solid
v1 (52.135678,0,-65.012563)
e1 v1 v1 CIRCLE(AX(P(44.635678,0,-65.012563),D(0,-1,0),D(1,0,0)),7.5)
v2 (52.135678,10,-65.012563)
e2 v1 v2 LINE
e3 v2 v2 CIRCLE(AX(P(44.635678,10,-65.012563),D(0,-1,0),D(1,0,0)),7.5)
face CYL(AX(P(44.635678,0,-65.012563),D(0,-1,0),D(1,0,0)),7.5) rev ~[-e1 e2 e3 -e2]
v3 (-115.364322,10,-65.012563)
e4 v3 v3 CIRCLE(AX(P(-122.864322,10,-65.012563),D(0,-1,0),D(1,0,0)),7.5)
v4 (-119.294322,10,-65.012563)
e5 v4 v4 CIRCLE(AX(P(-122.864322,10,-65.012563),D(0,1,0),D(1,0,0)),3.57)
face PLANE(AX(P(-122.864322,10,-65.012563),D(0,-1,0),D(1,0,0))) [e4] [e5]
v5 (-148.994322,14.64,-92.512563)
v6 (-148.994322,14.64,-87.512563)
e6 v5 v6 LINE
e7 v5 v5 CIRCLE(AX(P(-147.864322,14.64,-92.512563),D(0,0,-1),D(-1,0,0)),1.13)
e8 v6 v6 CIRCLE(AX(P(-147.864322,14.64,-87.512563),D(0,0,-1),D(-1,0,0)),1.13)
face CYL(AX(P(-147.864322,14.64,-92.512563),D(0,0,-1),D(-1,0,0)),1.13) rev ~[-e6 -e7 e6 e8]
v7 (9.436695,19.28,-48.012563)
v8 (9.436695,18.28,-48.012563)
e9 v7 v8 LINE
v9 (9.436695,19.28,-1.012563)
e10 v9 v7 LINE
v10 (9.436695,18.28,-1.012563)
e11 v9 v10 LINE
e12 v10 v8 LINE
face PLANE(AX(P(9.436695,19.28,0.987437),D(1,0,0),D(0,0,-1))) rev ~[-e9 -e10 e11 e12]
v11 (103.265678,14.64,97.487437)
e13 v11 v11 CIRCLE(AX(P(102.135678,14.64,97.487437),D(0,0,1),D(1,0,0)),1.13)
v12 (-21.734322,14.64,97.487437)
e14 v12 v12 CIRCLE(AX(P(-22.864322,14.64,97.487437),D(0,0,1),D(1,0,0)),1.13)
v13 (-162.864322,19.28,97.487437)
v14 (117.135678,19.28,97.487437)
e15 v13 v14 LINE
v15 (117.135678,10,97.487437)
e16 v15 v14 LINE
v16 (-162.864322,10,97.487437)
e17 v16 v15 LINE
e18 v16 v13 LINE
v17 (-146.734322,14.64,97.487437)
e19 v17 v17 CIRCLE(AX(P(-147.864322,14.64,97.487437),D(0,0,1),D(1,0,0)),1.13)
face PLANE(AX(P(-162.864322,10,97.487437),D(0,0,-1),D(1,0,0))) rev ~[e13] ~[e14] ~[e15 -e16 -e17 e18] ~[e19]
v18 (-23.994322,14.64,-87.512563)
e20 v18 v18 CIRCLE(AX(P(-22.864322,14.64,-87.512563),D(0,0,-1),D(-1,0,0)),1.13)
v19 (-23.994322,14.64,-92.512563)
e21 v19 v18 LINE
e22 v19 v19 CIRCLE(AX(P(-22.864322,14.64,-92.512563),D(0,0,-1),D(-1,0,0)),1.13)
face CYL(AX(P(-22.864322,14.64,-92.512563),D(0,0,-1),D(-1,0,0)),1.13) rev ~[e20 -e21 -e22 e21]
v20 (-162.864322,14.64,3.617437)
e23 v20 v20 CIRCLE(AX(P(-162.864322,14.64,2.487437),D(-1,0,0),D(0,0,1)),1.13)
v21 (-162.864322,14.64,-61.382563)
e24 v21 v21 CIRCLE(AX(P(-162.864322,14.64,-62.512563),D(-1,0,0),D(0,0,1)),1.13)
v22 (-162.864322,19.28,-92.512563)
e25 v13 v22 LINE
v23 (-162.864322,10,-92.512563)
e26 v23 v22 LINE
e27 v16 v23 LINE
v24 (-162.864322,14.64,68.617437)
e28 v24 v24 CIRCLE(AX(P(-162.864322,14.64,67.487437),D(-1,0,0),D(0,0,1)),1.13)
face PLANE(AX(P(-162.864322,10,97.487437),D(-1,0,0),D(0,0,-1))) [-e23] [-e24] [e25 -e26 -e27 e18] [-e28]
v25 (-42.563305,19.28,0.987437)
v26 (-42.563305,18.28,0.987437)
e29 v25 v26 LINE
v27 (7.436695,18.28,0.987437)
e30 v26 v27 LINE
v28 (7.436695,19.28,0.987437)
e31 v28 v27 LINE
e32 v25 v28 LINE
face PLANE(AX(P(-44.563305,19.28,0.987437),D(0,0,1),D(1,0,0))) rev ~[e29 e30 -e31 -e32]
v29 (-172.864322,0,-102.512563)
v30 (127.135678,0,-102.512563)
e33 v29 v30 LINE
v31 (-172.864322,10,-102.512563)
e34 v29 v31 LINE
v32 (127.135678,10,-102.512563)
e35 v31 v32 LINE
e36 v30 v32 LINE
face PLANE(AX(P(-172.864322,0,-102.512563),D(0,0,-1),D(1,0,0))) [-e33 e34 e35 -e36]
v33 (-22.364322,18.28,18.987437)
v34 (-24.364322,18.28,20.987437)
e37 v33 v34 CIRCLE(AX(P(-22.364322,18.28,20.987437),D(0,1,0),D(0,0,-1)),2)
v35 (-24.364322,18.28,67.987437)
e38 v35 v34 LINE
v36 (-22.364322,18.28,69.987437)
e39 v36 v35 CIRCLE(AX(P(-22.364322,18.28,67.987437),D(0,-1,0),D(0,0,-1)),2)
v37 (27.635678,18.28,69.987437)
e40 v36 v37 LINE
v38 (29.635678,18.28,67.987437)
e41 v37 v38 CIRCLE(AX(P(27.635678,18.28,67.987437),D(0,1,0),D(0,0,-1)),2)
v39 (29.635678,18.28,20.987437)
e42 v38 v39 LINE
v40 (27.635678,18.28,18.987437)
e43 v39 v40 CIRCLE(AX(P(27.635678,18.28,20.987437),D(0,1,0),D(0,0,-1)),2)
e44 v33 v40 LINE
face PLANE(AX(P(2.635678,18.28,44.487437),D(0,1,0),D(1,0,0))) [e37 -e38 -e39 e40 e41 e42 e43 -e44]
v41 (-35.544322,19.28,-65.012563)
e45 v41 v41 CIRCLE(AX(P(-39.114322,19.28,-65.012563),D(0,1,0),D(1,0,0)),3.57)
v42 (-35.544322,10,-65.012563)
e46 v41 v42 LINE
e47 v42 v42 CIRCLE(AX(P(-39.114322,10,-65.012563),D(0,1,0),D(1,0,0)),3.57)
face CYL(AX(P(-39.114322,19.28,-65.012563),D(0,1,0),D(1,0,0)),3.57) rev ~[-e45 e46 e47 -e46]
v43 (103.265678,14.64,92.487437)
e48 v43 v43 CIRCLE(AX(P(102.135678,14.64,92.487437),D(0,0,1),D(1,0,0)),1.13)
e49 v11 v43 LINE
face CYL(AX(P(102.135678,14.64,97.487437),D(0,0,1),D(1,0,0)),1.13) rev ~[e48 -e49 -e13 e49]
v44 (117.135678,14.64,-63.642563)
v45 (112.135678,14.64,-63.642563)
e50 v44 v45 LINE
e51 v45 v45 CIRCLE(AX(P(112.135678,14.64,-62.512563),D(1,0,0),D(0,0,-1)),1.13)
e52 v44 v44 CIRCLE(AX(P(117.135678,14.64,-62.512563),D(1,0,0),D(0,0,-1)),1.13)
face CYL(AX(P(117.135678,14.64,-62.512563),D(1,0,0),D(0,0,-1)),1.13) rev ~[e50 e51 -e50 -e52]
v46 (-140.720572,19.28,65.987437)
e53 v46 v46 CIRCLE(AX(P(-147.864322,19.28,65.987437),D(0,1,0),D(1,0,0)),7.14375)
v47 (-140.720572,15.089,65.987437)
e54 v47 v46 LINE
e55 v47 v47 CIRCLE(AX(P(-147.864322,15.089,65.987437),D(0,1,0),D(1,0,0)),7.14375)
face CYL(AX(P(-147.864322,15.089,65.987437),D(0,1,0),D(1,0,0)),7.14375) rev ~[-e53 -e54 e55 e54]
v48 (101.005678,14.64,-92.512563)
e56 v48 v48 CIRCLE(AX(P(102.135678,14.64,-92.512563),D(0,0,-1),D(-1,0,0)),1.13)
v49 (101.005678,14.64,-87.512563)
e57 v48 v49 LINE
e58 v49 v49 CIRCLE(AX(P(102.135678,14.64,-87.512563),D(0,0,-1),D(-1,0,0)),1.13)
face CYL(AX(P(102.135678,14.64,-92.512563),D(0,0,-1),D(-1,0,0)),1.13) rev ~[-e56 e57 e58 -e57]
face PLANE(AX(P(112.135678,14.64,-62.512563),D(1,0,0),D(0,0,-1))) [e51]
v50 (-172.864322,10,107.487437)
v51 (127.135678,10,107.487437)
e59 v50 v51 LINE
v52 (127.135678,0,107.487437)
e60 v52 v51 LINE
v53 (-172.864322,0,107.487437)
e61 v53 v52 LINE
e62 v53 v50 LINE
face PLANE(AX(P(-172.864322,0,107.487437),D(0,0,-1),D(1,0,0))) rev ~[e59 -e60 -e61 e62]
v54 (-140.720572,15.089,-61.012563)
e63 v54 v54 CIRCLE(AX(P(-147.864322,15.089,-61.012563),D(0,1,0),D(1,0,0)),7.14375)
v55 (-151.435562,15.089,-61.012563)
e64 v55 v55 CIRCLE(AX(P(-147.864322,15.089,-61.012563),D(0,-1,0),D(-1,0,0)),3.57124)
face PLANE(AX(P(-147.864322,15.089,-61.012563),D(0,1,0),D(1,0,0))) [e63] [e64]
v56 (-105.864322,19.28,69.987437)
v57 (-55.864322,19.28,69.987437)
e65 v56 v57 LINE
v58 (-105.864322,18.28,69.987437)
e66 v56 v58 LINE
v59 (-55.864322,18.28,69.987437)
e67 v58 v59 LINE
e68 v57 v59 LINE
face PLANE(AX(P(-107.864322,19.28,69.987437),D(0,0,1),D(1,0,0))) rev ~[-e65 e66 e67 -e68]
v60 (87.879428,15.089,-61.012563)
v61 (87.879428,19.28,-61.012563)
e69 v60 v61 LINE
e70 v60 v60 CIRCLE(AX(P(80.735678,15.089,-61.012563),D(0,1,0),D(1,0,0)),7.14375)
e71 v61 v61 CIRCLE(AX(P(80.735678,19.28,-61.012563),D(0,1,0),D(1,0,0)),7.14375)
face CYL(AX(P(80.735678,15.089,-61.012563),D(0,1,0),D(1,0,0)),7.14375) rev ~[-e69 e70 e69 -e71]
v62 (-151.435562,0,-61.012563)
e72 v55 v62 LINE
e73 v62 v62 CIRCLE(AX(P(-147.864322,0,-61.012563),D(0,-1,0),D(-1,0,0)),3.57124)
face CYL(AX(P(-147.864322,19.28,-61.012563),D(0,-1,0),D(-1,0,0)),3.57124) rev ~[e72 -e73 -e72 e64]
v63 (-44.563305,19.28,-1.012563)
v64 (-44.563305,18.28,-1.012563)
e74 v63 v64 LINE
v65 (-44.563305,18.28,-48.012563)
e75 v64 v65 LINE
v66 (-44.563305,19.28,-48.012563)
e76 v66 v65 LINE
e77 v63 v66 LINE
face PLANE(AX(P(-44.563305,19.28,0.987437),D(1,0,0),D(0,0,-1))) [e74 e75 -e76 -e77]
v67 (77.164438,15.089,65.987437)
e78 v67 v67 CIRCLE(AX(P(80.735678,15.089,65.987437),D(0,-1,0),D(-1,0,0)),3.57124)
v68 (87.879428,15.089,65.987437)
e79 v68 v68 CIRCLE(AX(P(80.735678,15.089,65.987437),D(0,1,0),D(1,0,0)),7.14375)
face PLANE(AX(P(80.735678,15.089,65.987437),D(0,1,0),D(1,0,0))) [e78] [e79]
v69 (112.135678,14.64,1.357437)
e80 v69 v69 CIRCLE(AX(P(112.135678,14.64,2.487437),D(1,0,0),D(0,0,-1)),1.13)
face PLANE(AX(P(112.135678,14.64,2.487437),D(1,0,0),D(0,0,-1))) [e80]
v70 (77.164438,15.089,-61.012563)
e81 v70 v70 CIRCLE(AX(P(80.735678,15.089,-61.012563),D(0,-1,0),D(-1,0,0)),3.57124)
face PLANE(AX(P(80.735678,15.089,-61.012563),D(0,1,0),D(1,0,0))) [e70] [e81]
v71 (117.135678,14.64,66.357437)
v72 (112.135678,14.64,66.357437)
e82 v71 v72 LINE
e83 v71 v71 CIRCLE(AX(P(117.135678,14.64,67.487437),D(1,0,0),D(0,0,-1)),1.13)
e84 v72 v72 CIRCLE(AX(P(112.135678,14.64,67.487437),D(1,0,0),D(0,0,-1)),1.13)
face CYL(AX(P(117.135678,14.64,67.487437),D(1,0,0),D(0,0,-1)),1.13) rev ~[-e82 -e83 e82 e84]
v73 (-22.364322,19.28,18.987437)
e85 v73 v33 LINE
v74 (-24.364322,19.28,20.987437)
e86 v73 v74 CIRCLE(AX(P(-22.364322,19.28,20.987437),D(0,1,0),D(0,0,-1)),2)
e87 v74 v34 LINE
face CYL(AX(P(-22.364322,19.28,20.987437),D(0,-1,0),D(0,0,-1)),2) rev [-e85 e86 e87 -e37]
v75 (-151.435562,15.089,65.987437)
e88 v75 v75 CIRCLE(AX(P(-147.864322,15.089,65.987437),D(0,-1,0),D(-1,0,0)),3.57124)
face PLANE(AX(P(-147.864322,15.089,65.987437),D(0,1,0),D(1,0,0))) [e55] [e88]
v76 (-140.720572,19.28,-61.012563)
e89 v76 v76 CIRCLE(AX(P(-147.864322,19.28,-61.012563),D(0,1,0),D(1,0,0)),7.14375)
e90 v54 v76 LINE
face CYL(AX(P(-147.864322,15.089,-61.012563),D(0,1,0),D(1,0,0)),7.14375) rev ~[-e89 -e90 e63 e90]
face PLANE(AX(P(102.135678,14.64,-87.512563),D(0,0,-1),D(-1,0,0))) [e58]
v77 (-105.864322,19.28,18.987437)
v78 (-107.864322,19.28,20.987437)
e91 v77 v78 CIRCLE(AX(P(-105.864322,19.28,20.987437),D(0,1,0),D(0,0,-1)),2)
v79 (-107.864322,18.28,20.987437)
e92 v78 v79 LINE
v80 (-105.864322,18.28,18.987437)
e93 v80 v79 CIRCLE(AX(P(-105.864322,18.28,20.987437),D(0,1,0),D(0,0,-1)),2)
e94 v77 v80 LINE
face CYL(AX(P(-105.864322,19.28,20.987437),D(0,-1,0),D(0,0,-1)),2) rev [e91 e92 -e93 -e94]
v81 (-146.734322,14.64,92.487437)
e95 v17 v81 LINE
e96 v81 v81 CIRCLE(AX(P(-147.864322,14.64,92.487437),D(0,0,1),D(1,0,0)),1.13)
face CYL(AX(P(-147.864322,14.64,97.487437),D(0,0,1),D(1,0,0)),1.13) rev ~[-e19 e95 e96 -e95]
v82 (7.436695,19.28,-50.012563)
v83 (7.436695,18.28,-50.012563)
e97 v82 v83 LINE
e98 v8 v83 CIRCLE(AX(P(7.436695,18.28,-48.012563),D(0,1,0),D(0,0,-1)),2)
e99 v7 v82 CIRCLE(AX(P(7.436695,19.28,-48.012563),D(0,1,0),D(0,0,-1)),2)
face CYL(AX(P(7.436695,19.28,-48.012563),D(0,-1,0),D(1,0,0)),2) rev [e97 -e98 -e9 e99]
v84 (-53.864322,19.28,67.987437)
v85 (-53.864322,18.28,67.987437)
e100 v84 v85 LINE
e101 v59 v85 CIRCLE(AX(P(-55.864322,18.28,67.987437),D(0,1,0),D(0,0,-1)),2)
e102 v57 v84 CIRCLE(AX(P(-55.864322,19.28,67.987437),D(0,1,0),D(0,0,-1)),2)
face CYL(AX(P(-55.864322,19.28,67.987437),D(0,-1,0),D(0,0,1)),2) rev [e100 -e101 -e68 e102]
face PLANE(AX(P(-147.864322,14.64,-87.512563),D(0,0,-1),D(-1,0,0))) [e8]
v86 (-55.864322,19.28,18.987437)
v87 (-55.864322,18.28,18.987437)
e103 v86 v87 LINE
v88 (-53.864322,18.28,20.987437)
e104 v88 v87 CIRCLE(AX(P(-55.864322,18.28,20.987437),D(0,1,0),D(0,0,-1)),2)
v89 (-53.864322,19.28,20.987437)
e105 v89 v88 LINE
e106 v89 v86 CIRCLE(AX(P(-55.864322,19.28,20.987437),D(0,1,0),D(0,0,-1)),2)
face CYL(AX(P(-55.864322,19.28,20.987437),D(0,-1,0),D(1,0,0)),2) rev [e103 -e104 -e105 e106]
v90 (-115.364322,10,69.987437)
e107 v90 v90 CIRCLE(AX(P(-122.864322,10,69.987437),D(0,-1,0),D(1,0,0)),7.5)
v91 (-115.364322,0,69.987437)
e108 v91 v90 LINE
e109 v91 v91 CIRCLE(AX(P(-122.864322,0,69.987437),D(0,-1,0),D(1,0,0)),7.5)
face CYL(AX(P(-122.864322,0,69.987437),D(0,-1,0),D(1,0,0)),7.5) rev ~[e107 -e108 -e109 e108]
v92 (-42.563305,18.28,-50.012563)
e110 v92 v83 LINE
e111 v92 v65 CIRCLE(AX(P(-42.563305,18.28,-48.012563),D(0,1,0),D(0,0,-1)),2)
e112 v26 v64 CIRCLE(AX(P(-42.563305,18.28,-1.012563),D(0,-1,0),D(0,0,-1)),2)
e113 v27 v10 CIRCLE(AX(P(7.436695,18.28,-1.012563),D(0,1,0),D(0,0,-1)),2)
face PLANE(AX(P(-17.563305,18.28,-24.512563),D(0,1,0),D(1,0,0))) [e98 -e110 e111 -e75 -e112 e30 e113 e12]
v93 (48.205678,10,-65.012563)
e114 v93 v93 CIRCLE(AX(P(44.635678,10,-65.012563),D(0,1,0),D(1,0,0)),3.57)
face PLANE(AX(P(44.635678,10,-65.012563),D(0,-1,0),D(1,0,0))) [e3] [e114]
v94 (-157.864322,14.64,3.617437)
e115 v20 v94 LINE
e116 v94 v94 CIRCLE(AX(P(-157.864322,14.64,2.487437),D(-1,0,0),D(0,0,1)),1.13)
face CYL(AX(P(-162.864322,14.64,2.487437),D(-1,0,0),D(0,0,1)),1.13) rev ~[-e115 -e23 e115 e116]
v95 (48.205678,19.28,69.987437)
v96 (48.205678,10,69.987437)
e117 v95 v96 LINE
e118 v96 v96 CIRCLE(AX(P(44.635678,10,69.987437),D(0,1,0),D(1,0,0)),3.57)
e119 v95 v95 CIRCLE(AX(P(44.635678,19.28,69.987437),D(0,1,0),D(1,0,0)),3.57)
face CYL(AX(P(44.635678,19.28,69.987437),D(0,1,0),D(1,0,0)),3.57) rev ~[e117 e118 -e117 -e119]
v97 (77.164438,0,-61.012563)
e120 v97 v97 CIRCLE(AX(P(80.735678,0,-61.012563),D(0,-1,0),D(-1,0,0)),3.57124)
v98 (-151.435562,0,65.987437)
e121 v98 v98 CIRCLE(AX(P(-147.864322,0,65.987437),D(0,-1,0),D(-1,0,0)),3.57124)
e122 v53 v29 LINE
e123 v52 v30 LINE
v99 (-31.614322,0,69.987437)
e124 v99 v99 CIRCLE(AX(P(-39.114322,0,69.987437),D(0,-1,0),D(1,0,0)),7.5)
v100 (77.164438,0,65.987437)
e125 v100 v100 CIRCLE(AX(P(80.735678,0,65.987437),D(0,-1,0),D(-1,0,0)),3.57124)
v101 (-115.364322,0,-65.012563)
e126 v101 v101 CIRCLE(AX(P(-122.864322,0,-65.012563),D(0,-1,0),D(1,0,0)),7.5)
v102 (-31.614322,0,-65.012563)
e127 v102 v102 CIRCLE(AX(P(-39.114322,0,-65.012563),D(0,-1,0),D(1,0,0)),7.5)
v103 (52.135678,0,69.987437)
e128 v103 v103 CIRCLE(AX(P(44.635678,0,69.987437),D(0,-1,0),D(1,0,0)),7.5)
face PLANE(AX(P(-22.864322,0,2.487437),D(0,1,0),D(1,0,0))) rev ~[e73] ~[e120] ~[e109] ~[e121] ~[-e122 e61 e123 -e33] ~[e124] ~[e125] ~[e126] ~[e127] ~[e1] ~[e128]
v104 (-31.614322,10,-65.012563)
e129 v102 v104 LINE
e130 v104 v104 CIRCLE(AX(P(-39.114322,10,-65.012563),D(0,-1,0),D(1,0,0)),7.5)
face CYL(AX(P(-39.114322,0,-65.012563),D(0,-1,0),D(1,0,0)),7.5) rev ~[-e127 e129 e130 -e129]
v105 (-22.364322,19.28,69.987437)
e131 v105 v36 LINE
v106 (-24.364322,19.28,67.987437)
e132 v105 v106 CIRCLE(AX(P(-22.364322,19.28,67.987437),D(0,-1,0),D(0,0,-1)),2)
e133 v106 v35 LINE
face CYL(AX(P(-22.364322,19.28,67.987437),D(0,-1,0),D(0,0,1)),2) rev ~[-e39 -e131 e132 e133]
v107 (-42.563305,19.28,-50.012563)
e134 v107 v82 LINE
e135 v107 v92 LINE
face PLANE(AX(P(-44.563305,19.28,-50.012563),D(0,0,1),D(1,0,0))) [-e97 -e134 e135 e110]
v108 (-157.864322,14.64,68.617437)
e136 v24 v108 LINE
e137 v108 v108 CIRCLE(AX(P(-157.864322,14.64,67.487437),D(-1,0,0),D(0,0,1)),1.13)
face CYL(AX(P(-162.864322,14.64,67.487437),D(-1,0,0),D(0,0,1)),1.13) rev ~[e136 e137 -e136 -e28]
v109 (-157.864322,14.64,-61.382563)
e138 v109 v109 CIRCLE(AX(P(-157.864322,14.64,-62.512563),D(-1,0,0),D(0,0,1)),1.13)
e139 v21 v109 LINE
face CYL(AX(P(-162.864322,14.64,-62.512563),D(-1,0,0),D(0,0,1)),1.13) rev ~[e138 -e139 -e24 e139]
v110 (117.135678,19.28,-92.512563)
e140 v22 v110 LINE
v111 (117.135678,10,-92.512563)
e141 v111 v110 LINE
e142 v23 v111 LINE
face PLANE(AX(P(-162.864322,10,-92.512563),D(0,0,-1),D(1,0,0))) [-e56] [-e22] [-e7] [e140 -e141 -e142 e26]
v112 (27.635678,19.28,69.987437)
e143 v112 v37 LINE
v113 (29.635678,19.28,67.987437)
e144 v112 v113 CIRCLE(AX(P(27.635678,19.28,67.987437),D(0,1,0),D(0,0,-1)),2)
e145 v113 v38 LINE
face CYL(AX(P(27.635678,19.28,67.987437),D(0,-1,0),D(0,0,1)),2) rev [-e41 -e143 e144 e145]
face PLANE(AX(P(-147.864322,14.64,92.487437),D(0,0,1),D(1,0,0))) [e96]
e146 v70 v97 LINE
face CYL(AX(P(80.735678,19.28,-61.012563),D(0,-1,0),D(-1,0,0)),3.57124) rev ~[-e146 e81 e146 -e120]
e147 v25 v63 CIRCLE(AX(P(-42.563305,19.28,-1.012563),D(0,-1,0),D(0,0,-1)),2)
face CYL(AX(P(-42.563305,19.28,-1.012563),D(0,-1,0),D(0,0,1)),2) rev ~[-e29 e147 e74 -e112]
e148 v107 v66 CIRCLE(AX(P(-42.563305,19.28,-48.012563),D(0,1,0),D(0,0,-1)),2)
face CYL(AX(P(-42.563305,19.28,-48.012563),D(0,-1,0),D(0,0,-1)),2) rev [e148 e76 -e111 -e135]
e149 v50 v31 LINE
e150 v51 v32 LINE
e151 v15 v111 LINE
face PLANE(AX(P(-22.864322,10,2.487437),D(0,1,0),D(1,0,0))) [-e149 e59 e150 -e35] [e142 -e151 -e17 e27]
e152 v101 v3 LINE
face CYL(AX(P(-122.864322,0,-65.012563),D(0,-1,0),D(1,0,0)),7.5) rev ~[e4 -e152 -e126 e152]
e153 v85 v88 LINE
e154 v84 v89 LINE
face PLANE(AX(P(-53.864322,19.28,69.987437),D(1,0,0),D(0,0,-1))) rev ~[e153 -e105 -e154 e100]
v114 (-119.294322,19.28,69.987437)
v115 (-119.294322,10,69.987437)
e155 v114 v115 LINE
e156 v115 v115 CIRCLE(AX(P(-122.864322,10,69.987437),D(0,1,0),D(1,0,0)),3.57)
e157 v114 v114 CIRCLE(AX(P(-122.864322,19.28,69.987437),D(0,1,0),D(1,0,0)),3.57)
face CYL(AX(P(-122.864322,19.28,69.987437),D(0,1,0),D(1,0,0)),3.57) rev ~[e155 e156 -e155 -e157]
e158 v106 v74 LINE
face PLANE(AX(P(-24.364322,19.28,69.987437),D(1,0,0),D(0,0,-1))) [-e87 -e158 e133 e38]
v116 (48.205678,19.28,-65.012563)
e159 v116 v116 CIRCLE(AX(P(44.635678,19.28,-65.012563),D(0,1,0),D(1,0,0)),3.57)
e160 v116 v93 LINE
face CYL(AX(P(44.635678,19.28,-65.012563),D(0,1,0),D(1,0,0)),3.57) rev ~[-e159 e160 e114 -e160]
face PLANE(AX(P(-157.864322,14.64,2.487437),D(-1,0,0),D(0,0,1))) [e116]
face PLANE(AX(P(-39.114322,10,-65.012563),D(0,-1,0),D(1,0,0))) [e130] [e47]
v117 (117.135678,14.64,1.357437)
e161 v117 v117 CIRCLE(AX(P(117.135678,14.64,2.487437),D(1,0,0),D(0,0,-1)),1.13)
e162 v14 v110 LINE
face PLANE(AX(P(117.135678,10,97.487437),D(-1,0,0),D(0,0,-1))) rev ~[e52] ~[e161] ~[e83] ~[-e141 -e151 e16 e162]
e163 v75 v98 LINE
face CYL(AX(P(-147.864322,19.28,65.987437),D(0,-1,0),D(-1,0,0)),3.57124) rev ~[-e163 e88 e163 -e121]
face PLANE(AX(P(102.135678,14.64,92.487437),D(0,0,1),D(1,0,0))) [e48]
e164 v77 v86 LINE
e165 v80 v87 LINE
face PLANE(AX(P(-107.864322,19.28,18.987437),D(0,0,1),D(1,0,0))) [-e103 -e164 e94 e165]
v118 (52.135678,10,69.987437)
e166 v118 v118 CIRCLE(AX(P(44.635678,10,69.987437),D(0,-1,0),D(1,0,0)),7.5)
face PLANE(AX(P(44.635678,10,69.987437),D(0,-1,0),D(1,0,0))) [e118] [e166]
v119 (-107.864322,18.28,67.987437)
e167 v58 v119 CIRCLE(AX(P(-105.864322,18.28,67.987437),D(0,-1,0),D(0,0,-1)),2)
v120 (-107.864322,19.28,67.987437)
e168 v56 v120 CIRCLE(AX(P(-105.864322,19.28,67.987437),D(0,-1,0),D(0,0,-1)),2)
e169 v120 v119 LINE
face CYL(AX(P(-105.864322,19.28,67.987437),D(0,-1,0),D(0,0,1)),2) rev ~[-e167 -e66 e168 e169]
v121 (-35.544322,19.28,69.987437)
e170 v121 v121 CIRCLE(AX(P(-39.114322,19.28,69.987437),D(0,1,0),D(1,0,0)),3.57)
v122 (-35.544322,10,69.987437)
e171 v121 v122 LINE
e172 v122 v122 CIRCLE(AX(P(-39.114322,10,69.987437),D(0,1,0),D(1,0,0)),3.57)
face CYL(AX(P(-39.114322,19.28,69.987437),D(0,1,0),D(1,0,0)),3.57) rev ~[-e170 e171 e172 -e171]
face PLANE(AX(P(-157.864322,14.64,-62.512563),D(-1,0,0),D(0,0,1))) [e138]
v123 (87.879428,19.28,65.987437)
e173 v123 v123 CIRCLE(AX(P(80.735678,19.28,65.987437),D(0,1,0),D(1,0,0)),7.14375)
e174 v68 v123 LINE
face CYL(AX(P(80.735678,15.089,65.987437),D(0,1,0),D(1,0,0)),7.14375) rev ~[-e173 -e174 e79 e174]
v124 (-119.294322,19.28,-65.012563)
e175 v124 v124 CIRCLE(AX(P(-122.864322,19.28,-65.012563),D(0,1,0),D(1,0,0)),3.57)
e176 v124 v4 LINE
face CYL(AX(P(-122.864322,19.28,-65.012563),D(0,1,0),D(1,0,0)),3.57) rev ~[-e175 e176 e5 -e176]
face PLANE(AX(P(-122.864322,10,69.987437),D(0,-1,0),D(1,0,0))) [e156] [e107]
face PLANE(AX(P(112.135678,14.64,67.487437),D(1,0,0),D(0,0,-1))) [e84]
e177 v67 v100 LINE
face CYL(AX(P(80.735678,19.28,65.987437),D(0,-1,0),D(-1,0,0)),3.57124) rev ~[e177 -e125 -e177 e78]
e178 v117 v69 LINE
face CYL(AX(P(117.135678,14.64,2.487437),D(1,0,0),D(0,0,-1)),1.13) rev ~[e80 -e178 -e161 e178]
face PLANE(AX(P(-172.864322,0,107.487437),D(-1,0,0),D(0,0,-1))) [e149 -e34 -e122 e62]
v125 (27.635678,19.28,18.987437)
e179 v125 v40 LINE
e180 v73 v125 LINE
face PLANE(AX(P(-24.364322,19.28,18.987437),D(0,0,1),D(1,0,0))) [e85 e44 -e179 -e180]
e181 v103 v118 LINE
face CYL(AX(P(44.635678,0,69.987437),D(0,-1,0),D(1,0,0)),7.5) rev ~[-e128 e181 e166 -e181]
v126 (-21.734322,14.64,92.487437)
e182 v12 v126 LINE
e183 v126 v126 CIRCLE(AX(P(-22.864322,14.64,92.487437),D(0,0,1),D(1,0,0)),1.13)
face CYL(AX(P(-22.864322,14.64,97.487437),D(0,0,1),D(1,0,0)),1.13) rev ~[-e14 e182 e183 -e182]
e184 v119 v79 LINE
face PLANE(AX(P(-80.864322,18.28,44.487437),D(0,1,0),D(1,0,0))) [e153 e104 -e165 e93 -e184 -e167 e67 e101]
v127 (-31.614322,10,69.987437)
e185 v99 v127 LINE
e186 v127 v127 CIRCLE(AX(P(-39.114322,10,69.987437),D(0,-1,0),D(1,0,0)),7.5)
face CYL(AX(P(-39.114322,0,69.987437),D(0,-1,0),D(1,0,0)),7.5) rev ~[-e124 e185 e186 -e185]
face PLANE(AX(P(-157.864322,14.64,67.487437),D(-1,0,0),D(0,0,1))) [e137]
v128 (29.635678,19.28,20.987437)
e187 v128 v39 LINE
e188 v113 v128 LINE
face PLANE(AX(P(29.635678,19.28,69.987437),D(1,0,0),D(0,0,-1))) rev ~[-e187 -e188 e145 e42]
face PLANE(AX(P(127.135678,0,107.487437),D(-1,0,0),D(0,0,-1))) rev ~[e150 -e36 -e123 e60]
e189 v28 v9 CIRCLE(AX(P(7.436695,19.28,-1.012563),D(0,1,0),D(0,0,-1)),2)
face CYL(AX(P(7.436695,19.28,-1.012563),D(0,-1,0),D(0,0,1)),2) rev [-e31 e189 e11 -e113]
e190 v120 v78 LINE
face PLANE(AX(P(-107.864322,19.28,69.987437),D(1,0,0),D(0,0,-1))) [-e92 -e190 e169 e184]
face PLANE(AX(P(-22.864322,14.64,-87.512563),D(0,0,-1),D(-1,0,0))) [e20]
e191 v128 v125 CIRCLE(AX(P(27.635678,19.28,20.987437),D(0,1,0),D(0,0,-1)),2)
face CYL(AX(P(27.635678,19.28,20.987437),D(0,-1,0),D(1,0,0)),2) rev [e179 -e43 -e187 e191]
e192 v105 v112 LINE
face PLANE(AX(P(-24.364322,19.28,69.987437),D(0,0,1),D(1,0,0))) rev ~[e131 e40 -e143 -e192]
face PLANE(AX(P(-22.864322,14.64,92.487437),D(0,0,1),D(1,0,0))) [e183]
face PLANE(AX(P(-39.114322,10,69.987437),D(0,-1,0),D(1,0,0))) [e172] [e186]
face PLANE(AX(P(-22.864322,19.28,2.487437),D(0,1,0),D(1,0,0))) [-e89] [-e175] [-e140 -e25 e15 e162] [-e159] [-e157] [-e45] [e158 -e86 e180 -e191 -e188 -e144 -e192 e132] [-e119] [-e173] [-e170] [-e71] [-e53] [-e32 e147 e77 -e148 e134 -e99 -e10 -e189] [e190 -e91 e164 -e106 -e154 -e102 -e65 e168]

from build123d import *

# Parameters (mm, degrees)
SKETCH1_W                                            = 300
SKETCH1_H                                            = 210
BOSS_EXTRUDE1_DEPTH                                  = 10
SKETCH2_W                                            = 280
SKETCH2_H                                            = 190
BOSS_EXTRUDE2_DEPTH                                  = 9.28
F_1_4_20_CLEARANCE_HOLES_REACH                       = 21.28
SKETCH3_R                                            = 3.57
SKETCH4_R                                            = 7.5
CUT_EXTRUDE2_DEPTH                                   = 10
SKETCH5_R                                            = 1.13
F_4_40_THREADED_HOLES_DEPTH                          = 5
SKETCH6_R                                            = 1.13
F_4_40_THREADED_HOLES_2_DEPTH                        = 5
SKETCH7_R                                            = 1.13
F_4_40_THREADED_HOLES_3_DEPTH                        = 5
SKETCH8_R                                            = 1.13
F_4_40_THREADED_HOLES_4_DEPTH                        = 5
SKETCH11_W                                           = 54
SKETCH11_H                                           = 51
TEC_DEPTH                                            = 1
FILLET1_R                                            = 2
OPTICAL_TABLE_CBORE_FOR_1_4_BINDING_HEAD_D           = 7.14248
OPTICAL_TABLE_CBORE_FOR_1_4_BINDING_HEAD_DEPTH       = 19.28
OPTICAL_TABLE_CBORE_FOR_1_4_BINDING_HEAD_CBORE_D     = 14.2875
OPTICAL_TABLE_CBORE_FOR_1_4_BINDING_HEAD_CBORE_DEPTH = 4.191


with BuildPart() as part:
    # Sketch1 → Boss-Extrude1 (new body)
    with BuildSketch(Plane(origin=(0, 0, 0), x_dir=(1, 0, 0), z_dir=(0, 1, 0))):
        with Locations((-22.864321608, -2.487437186)):
            Rectangle(SKETCH1_W, SKETCH1_H)
    extrude(amount=BOSS_EXTRUDE1_DEPTH)

    # Sketch2 → Boss-Extrude2 (add)
    with BuildSketch(Plane(origin=(0, 10, 0), x_dir=(1, 0, 0), z_dir=(0, 1, 0))):
        with Locations((-22.864321608, -2.487437186)):
            Rectangle(SKETCH2_W, SKETCH2_H)
    extrude(amount=BOSS_EXTRUDE2_DEPTH)

    # Sketch3 → 1/4-20 clearance holes (cut, up to next)
    with BuildSketch(Plane(origin=(0, 19.28, 0), x_dir=(1, 0, 0), z_dir=(0, 1, 0)), mode=Mode.PRIVATE) as f_1_4_20_clearance_holes_sk1:
        with Locations((-122.864321608, 65.012562814)):
            Circle(SKETCH3_R)
    f_1_4_20_clearance_holes_tool1 = extrude(f_1_4_20_clearance_holes_sk1.sketch, amount=-F_1_4_20_CLEARANCE_HOLES_REACH, mode=Mode.PRIVATE) & part.part
    add(f_1_4_20_clearance_holes_tool1.solids().sort_by_distance((-122.864322, 19.28, -65.012563))[0], mode=Mode.SUBTRACT)
    # Sketch3 → 1/4-20 clearance holes (cut, up to next)
    with BuildSketch(Plane(origin=(0, 19.28, 0), x_dir=(1, 0, 0), z_dir=(0, 1, 0)), mode=Mode.PRIVATE) as f_1_4_20_clearance_holes_sk2:
        with Locations((-39.114321608, 65.012562814)):
            Circle(SKETCH3_R)
    f_1_4_20_clearance_holes_tool2 = extrude(f_1_4_20_clearance_holes_sk2.sketch, amount=-F_1_4_20_CLEARANCE_HOLES_REACH, mode=Mode.PRIVATE) & part.part
    add(f_1_4_20_clearance_holes_tool2.solids().sort_by_distance((-39.114322, 19.28, -65.012563))[0], mode=Mode.SUBTRACT)
    # Sketch3 → 1/4-20 clearance holes (cut, up to next)
    with BuildSketch(Plane(origin=(0, 19.28, 0), x_dir=(1, 0, 0), z_dir=(0, 1, 0)), mode=Mode.PRIVATE) as f_1_4_20_clearance_holes_sk3:
        with Locations((44.635678392, 65.012562814)):
            Circle(SKETCH3_R)
    f_1_4_20_clearance_holes_tool3 = extrude(f_1_4_20_clearance_holes_sk3.sketch, amount=-F_1_4_20_CLEARANCE_HOLES_REACH, mode=Mode.PRIVATE) & part.part
    add(f_1_4_20_clearance_holes_tool3.solids().sort_by_distance((44.635678, 19.28, -65.012563))[0], mode=Mode.SUBTRACT)
    # Sketch3 → 1/4-20 clearance holes (cut, up to next)
    with BuildSketch(Plane(origin=(0, 19.28, 0), x_dir=(1, 0, 0), z_dir=(0, 1, 0)), mode=Mode.PRIVATE) as f_1_4_20_clearance_holes_sk4:
        with Locations((44.635678392, -69.987437186)):
            Circle(SKETCH3_R)
    f_1_4_20_clearance_holes_tool4 = extrude(f_1_4_20_clearance_holes_sk4.sketch, amount=-F_1_4_20_CLEARANCE_HOLES_REACH, mode=Mode.PRIVATE) & part.part
    add(f_1_4_20_clearance_holes_tool4.solids().sort_by_distance((44.635678, 19.28, 69.987437))[0], mode=Mode.SUBTRACT)
    # Sketch3 → 1/4-20 clearance holes (cut, up to next)
    with BuildSketch(Plane(origin=(0, 19.28, 0), x_dir=(1, 0, 0), z_dir=(0, 1, 0)), mode=Mode.PRIVATE) as f_1_4_20_clearance_holes_sk5:
        with Locations((-39.114321608, -69.987437186)):
            Circle(SKETCH3_R)
    f_1_4_20_clearance_holes_tool5 = extrude(f_1_4_20_clearance_holes_sk5.sketch, amount=-F_1_4_20_CLEARANCE_HOLES_REACH, mode=Mode.PRIVATE) & part.part
    add(f_1_4_20_clearance_holes_tool5.solids().sort_by_distance((-39.114322, 19.28, 69.987437))[0], mode=Mode.SUBTRACT)
    # Sketch3 → 1/4-20 clearance holes (cut, up to next)
    with BuildSketch(Plane(origin=(0, 19.28, 0), x_dir=(1, 0, 0), z_dir=(0, 1, 0)), mode=Mode.PRIVATE) as f_1_4_20_clearance_holes_sk6:
        with Locations((-122.864321608, -69.987437186)):
            Circle(SKETCH3_R)
    f_1_4_20_clearance_holes_tool6 = extrude(f_1_4_20_clearance_holes_sk6.sketch, amount=-F_1_4_20_CLEARANCE_HOLES_REACH, mode=Mode.PRIVATE) & part.part
    add(f_1_4_20_clearance_holes_tool6.solids().sort_by_distance((-122.864322, 19.28, 69.987437))[0], mode=Mode.SUBTRACT)

    # Sketch4 → Cut-Extrude2 (cut)
    with BuildSketch(Plane.XZ):
        with Locations((-122.864321608, 69.987437186)):
            Circle(SKETCH4_R)
        with Locations((-39.114321608, 69.987437186)):
            Circle(SKETCH4_R)
        with Locations((44.635678392, 69.987437186)):
            Circle(SKETCH4_R)
        with Locations((44.635678392, -65.012562814)):
            Circle(SKETCH4_R)
        with Locations((-39.114321608, -65.012562814)):
            Circle(SKETCH4_R)
        with Locations((-122.864321608, -65.012562814)):
            Circle(SKETCH4_R)
    extrude(amount=-CUT_EXTRUDE2_DEPTH, mode=Mode.SUBTRACT)

    # Sketch5 → 4-40 threaded holes (cut)
    with BuildSketch(Plane.XY.offset(97.487437186)):
        with Locations((-147.864321608, 14.64)):
            Circle(SKETCH5_R)
        with Locations((-22.864321608, 14.64)):
            Circle(SKETCH5_R)
        with Locations((102.135678392, 14.64)):
            Circle(SKETCH5_R)
    extrude(amount=-F_4_40_THREADED_HOLES_DEPTH, mode=Mode.SUBTRACT)

    # Sketch6 → 4-40 threaded holes 2 (cut)
    with BuildSketch(Plane(origin=(0, 0, -92.512562814), x_dir=(-1, 0, 0), z_dir=(0, 0, -1))):
        with Locations((-102.135678392, 14.64)):
            Circle(SKETCH6_R)
        with Locations((22.864321608, 14.64)):
            Circle(SKETCH6_R)
        with Locations((147.864321608, 14.64)):
            Circle(SKETCH6_R)
    extrude(amount=-F_4_40_THREADED_HOLES_2_DEPTH, mode=Mode.SUBTRACT)

    # Sketch7 → 4-40 threaded holes 3 (cut)
    with BuildSketch(Plane.ZY.offset(162.864321608)):
        with Locations((-62.512562814, 14.64)):
            Circle(SKETCH7_R)
        with Locations((2.487437186, 14.64)):
            Circle(SKETCH7_R)
        with Locations((67.487437186, 14.64)):
            Circle(SKETCH7_R)
    extrude(amount=-F_4_40_THREADED_HOLES_3_DEPTH, mode=Mode.SUBTRACT)

    # Sketch8 → 4-40 threaded holes 4 (cut)
    with BuildSketch(Plane(origin=(117.135678392, 0, 0), x_dir=(0, 0, -1), z_dir=(1, 0, 0))):
        with Locations((-67.487437186, 14.64)):
            Circle(SKETCH8_R)
        with Locations((-2.487437186, 14.64)):
            Circle(SKETCH8_R)
        with Locations((62.512562814, 14.64)):
            Circle(SKETCH8_R)
    extrude(amount=-F_4_40_THREADED_HOLES_4_DEPTH, mode=Mode.SUBTRACT)

    # Sketch11 → TEC (cut)
    with BuildSketch(Plane(origin=(0, 19.28, 0), x_dir=(1, 0, 0), z_dir=(0, 1, 0))):
        with Locations((-17.563304852, 24.512562814)):
            Rectangle(SKETCH11_W, SKETCH11_H)
        with Locations((-80.864321608, -44.487437186)):
            Rectangle(SKETCH11_W, SKETCH11_H)
        with Locations((2.635678392, -44.487437186)):
            Rectangle(SKETCH11_W, SKETCH11_H)
    extrude(amount=-TEC_DEPTH, mode=Mode.SUBTRACT)

    # Fillet1
    fillet1_edges = [part.edges().sort_by_distance(p)[0] for p in [
        (9.436695148, 18.78, -50.012562814),
        (9.436695148, 18.78, 0.987437186),
        (-44.563304852, 18.78, 0.987437186),
        (-44.563304852, 18.78, -50.012562814),
        (-53.864321608, 18.78, 69.987437186),
        (-107.864321608, 18.78, 69.987437186),
        (-107.864321608, 18.78, 18.987437186),
        (-53.864321608, 18.78, 18.987437186),
        (29.635678392, 18.78, 69.987437186),
        (-24.364321608, 18.78, 69.987437186),
        (-24.364321608, 18.78, 18.987437186),
        (29.635678392, 18.78, 18.987437186),
    ]]
    fillet(fillet1_edges, radius=FILLET1_R)

    # optical table CBORE for 1/4 Binding Head Machine Screw1
    with Locations(Plane(origin=(0, 19.28, 0), x_dir=(1, 0, 0), z_dir=(0, 1, 0))):
        with Locations((-147.864321608, 61.012562814), (-147.864321608, -65.987437186), (80.735678392, -65.987437186), (80.735678392, 61.012562814)):
            CounterBoreHole(OPTICAL_TABLE_CBORE_FOR_1_4_BINDING_HEAD_D / 2, OPTICAL_TABLE_CBORE_FOR_1_4_BINDING_HEAD_CBORE_D / 2, OPTICAL_TABLE_CBORE_FOR_1_4_BINDING_HEAD_CBORE_DEPTH, depth=OPTICAL_TABLE_CBORE_FOR_1_4_BINDING_HEAD_DEPTH)


solid = part.part
